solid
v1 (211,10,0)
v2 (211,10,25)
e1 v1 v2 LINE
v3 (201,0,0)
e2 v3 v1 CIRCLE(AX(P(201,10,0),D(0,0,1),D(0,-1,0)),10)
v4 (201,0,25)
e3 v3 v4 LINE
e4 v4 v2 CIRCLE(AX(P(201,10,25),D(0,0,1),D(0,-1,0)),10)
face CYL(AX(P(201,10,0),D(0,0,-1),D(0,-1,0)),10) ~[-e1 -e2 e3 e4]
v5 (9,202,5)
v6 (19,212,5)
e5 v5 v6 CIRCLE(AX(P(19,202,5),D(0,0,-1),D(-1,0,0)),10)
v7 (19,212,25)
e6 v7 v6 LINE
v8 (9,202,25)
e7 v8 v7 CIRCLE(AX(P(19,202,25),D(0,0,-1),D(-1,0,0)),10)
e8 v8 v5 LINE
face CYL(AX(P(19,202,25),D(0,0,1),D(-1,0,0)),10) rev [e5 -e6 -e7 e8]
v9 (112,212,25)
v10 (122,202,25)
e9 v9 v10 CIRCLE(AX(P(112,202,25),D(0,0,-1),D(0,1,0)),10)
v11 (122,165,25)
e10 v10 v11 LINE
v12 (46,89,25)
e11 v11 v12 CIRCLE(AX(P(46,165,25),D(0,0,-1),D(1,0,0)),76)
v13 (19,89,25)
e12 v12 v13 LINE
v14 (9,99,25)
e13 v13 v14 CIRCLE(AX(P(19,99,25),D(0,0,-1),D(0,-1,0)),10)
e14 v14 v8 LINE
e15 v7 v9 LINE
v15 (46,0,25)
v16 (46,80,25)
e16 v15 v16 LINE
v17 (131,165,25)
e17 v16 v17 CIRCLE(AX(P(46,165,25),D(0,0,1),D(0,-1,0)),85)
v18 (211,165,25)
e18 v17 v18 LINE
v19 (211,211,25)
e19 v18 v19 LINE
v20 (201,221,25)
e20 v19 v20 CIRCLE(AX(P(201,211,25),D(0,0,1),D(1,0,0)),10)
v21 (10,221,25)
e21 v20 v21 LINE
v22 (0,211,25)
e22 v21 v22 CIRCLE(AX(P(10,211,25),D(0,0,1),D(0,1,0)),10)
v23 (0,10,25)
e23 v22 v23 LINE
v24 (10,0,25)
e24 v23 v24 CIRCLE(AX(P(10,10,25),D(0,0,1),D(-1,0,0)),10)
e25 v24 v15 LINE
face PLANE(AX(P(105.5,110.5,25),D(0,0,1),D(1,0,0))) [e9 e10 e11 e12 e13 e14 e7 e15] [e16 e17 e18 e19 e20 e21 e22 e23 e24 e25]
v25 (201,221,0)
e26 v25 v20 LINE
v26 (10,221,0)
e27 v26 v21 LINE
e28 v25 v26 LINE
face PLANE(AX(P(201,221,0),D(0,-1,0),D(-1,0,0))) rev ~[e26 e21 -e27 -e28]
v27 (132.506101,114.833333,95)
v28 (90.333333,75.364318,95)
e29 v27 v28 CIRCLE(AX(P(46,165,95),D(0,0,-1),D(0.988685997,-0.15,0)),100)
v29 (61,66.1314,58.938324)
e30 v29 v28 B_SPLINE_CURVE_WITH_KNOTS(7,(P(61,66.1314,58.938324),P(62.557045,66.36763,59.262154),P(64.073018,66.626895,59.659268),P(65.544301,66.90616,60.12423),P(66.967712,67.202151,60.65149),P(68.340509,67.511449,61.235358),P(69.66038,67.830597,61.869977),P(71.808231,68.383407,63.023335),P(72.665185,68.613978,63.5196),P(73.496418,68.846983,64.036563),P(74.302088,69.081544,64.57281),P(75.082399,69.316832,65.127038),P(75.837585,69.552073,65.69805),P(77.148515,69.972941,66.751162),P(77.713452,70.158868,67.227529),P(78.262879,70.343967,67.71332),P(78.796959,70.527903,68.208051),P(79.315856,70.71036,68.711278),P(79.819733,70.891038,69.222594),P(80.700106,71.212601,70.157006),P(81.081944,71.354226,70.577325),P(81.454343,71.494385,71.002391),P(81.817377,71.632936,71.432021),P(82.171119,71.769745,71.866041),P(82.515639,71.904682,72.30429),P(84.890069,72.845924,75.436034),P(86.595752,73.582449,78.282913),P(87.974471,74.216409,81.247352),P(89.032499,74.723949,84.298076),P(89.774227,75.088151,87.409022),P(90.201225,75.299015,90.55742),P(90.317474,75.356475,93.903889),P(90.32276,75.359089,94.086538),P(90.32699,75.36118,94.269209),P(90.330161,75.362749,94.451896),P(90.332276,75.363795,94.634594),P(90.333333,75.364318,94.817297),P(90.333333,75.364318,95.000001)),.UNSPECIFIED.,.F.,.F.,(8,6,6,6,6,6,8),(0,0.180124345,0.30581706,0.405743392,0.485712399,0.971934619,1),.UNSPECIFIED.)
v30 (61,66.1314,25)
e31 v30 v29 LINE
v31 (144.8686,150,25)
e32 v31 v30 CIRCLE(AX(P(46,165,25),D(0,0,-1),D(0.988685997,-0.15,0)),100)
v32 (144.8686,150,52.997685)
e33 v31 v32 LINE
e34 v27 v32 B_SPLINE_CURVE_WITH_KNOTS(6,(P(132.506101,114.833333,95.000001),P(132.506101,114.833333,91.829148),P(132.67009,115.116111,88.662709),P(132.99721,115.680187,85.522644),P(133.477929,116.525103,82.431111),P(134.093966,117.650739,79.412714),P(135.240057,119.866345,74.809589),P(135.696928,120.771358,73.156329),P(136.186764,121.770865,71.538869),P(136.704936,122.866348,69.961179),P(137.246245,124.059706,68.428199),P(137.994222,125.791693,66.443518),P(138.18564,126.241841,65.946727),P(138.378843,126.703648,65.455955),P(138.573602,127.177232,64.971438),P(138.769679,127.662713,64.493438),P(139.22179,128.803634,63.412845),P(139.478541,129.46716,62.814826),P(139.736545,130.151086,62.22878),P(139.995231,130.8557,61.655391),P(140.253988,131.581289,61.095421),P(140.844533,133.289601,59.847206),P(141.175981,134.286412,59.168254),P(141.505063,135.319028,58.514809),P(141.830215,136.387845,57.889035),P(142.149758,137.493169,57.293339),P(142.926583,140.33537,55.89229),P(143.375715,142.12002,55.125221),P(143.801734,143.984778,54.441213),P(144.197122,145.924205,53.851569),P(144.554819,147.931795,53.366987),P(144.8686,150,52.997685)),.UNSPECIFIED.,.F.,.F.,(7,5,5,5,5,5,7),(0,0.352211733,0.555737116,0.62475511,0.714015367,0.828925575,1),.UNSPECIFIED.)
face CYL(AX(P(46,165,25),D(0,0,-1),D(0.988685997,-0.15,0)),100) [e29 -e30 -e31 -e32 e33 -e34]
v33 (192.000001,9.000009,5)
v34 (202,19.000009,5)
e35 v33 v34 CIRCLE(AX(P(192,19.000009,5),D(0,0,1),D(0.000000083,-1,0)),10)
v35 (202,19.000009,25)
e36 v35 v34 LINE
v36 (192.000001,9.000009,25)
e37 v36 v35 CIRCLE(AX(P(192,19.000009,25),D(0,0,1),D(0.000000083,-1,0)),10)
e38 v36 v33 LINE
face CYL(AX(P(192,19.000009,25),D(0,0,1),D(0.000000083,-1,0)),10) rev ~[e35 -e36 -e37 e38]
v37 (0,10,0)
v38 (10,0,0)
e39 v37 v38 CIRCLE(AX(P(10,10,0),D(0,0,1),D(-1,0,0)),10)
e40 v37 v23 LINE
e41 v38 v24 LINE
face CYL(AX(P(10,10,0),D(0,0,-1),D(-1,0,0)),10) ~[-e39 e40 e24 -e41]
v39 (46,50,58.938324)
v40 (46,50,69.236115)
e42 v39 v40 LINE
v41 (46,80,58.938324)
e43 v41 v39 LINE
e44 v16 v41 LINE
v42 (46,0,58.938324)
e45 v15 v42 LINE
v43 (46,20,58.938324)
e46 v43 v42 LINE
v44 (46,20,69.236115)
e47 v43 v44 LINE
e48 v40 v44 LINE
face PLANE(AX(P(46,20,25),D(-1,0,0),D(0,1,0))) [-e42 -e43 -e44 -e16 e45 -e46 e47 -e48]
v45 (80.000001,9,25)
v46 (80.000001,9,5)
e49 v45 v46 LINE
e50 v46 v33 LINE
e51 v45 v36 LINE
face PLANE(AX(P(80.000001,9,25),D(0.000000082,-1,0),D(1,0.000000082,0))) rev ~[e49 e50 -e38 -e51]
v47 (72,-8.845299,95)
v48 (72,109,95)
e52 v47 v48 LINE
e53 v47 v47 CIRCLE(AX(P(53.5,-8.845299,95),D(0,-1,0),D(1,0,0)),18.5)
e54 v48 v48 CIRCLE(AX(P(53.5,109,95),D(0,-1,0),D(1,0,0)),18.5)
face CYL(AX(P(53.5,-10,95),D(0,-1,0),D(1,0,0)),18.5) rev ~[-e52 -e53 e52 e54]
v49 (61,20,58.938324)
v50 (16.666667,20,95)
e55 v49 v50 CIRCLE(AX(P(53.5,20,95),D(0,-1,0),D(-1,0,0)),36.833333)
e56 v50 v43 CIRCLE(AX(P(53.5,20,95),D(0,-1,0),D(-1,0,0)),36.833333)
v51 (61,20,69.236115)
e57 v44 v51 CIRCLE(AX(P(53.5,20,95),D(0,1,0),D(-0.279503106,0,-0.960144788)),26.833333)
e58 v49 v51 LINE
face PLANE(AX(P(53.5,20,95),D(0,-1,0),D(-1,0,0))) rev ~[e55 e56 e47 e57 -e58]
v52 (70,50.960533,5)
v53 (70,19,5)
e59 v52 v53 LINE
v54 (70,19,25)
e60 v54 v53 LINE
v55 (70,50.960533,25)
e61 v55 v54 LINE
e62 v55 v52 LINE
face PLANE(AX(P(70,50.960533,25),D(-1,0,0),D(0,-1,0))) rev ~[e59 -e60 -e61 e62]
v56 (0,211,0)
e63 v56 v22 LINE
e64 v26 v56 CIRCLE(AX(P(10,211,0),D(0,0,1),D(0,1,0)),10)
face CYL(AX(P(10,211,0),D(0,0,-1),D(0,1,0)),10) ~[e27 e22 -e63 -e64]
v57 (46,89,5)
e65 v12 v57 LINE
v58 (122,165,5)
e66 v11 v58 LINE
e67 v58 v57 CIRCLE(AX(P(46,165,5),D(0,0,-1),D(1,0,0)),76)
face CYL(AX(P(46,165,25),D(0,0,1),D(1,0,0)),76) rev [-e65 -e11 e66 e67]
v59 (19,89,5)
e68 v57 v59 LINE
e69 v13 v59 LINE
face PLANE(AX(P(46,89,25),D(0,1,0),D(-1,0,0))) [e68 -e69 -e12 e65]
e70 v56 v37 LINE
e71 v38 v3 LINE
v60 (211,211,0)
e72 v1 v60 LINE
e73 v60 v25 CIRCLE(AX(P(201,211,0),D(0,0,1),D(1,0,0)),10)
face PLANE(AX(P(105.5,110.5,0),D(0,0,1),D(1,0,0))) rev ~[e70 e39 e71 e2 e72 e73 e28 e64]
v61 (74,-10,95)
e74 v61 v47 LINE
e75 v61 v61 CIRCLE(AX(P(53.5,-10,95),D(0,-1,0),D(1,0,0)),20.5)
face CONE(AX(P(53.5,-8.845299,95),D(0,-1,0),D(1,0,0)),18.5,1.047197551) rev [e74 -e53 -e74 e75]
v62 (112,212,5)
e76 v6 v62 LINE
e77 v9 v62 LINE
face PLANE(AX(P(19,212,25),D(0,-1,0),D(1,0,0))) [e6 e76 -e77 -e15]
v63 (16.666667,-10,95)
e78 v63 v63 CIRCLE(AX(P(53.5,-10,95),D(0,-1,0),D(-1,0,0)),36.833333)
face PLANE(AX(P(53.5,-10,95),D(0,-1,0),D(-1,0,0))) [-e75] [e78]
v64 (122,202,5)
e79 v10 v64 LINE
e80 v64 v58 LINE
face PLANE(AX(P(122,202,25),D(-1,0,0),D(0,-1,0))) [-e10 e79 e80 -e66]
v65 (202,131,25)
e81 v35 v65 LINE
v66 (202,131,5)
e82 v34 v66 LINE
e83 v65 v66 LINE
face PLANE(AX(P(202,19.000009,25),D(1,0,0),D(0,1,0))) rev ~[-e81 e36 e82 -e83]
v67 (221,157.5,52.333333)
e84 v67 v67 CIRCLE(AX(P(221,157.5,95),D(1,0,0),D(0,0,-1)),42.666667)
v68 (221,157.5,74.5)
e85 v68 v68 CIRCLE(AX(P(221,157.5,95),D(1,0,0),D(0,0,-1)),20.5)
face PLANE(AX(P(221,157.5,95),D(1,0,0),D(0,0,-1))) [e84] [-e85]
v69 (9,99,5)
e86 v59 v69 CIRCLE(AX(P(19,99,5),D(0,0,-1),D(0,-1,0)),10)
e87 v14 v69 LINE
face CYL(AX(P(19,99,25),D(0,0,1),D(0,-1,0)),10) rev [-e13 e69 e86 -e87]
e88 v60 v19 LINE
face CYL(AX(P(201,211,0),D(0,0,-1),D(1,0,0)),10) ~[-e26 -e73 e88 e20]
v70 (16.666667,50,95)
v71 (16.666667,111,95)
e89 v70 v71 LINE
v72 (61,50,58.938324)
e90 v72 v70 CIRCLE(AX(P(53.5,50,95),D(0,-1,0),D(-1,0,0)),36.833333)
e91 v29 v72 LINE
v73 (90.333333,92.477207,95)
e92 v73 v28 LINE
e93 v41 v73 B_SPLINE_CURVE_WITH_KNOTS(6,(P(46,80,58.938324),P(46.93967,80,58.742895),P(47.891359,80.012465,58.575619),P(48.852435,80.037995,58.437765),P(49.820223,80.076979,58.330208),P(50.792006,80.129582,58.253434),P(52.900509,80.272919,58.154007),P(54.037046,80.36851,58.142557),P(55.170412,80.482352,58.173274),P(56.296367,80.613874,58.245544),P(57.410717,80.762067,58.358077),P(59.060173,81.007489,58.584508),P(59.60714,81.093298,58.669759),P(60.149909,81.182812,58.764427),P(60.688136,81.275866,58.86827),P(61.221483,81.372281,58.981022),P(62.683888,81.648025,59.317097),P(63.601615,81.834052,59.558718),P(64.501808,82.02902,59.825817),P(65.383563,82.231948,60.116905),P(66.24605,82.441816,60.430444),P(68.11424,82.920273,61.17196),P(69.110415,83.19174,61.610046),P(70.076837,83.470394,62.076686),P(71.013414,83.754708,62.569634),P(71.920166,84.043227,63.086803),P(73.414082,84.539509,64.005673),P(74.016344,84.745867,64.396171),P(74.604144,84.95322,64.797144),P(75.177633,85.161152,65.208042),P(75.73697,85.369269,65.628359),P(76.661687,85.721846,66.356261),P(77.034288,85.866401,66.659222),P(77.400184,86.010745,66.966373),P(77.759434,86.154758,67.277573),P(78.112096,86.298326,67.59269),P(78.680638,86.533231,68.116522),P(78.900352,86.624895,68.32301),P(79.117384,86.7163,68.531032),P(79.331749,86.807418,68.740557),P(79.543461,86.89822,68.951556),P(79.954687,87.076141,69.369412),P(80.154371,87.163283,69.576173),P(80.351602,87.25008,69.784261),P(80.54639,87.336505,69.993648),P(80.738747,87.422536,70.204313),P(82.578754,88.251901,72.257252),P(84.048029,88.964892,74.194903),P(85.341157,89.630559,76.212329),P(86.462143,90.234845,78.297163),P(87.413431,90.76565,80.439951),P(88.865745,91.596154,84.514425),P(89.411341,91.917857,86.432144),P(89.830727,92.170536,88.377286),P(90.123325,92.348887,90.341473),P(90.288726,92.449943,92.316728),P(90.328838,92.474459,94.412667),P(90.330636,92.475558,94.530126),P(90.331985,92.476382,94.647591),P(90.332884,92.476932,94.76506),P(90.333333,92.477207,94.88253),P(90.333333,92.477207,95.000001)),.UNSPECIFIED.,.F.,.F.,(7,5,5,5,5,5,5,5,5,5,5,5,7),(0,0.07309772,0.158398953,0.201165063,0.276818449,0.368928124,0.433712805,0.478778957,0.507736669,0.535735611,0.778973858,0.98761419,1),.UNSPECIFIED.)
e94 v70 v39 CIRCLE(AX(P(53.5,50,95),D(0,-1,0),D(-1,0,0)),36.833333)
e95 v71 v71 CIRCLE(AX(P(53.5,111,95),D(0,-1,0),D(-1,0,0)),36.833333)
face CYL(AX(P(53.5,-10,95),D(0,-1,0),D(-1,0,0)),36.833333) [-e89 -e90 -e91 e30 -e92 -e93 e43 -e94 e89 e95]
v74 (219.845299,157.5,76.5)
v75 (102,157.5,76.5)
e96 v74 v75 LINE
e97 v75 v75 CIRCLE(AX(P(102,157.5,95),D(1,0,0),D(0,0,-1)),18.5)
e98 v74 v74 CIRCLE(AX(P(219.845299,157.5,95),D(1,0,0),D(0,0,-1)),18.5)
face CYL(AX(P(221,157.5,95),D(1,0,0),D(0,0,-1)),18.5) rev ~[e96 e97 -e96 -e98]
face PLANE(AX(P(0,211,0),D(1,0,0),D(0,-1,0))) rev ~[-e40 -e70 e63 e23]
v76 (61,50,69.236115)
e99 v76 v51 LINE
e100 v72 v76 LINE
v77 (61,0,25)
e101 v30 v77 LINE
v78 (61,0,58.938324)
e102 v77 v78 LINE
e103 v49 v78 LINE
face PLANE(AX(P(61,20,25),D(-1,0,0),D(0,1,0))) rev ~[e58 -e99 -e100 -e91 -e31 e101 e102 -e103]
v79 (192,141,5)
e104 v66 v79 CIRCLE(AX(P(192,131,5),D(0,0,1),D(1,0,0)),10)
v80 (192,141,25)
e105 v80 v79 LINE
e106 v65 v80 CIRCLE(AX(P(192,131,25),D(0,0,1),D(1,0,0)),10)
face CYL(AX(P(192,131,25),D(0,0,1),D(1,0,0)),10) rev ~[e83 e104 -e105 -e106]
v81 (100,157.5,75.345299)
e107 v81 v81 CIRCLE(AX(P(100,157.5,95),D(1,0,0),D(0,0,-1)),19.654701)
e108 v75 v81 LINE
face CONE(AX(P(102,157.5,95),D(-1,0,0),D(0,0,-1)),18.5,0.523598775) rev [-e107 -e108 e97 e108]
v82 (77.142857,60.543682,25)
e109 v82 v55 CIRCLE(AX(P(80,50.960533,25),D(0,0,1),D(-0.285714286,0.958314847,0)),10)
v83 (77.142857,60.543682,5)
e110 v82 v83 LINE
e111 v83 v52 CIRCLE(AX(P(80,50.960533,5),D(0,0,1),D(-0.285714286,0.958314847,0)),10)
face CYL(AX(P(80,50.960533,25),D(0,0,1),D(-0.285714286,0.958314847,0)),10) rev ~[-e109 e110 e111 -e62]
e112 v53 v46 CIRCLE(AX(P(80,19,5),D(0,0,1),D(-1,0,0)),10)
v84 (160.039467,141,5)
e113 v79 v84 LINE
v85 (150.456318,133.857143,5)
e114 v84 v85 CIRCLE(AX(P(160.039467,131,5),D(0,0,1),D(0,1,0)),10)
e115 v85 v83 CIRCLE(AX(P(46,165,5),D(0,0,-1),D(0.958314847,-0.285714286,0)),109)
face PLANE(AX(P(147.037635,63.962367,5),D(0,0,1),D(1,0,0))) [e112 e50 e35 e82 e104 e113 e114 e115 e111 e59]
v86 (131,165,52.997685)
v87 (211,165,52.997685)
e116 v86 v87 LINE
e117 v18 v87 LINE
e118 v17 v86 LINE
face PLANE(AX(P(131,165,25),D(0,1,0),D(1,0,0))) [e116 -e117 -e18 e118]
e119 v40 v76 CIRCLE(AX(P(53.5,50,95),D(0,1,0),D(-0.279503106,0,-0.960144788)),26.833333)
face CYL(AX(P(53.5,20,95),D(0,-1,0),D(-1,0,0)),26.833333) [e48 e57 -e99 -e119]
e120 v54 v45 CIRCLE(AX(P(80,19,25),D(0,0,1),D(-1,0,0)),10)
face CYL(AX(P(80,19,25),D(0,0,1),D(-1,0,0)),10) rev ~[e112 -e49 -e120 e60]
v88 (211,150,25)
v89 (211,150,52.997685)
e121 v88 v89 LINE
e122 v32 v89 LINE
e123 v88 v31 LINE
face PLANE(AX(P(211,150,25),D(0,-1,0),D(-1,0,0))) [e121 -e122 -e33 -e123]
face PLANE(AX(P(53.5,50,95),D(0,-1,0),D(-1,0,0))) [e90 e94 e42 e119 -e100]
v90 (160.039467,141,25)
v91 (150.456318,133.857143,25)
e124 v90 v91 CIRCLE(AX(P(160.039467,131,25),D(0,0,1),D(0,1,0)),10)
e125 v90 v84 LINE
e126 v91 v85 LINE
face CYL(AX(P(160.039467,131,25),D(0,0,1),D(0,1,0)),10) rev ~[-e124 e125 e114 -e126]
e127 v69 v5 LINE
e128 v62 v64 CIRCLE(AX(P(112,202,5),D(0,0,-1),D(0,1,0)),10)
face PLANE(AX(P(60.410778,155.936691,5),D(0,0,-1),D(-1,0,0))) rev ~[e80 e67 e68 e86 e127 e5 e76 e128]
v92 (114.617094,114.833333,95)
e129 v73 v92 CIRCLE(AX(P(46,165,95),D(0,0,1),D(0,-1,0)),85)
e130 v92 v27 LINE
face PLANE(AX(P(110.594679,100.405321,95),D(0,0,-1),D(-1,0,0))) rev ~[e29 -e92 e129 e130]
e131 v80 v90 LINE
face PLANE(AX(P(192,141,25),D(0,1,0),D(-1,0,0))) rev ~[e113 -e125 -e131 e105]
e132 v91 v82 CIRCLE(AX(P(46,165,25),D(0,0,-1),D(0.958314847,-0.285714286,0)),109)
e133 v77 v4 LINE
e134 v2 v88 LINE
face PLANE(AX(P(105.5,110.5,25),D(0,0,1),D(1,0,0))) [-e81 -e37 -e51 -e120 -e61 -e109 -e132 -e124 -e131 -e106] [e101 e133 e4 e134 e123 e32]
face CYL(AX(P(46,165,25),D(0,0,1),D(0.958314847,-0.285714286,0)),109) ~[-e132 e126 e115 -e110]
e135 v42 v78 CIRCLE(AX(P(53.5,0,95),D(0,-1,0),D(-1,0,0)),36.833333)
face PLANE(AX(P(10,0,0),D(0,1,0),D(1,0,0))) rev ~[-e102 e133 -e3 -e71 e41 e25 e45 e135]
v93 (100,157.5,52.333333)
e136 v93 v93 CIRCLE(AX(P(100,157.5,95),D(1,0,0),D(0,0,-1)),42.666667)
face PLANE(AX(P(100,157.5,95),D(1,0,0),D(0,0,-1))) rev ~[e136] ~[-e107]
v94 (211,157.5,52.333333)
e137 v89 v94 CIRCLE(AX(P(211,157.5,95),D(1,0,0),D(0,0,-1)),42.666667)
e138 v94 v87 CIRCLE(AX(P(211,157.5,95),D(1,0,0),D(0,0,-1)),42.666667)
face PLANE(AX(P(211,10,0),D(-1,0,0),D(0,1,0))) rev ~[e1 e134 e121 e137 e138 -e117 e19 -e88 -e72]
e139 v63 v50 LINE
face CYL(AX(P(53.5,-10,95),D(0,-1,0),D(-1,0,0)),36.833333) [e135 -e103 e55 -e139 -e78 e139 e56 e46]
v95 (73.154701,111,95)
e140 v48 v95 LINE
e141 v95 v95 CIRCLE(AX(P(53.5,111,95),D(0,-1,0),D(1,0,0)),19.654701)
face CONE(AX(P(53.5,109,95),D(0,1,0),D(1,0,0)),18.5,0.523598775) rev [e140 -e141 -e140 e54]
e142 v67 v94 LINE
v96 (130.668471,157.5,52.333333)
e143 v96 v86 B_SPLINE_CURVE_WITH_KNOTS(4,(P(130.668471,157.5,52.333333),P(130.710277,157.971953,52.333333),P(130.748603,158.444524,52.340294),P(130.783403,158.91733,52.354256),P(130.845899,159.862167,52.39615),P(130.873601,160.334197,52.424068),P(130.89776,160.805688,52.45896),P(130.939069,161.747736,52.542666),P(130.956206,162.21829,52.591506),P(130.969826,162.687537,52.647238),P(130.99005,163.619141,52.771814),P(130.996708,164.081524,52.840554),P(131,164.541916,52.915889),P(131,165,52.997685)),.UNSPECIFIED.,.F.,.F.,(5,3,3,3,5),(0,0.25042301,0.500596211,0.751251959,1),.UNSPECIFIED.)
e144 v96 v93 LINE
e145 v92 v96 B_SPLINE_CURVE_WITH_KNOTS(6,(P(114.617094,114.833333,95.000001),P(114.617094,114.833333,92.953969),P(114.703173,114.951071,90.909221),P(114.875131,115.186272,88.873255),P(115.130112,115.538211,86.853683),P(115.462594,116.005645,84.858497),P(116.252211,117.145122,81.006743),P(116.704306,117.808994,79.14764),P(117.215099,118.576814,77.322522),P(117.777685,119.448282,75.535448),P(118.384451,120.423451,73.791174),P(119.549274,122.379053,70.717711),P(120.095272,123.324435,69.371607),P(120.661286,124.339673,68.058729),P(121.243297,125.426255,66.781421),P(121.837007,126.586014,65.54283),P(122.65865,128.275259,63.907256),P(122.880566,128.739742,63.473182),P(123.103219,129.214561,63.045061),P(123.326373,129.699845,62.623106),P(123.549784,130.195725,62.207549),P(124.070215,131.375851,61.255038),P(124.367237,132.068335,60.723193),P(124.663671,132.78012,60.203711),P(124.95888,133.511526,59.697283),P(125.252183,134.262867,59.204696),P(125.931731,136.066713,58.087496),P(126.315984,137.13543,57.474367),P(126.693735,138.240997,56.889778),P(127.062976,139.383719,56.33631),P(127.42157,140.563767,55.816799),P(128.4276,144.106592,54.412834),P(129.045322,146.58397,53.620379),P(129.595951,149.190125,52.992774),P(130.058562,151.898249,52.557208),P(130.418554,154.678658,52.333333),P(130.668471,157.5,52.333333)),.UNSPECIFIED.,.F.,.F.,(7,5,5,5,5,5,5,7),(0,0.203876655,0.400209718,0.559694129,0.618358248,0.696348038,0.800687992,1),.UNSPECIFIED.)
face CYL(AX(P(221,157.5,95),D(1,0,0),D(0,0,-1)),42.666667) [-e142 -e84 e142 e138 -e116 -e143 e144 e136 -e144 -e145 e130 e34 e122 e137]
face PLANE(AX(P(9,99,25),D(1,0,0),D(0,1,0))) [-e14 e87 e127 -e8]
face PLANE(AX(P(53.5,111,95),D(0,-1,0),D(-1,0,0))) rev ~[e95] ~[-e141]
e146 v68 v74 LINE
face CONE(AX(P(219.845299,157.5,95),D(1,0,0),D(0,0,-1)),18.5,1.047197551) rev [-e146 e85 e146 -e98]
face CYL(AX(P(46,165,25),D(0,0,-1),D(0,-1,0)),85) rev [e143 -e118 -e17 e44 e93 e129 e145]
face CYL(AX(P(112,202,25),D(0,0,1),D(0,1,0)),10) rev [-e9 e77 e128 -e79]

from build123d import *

# Parameters (mm, degrees)
BOSS_EXTRUDE1_DEPTH   = 25
BOSS_EXTRUDE3_DEPTH   = 70
SKETCH7_R             = 36.833333333
BOSS_EXTRUDE4_DEPTH   = 121
SKETCH8_R             = 18.5
CUT_EXTRUDE2_DEPTH    = 232
SKETCH9_R             = 42.666666667
BOSS_EXTRUDE5_DEPTH   = 121
SKETCH10_R            = 18.5
CUT_EXTRUDE3_DEPTH    = 222
CHAMFER1_SIZE         = 2
CHAMFER1_SIZE2        = 1.154700538
CHAMFER1_PART_2_SIZE  = 2
CHAMFER1_PART_2_SIZE2 = 1.154700538
CHAMFER1_PART_3_SIZE  = 2
CHAMFER1_PART_3_SIZE2 = 1.154700538
CHAMFER1_PART_4_SIZE  = 2
CHAMFER1_PART_4_SIZE2 = 1.154700538
CUT_EXTRUDE4_DEPTH    = 20
CUT_EXTRUDE5_DEPTH    = 20
SKETCH16_R            = 36.833333333
SKETCH16_R_2          = 26.833333333
CUT_EXTRUDE7_DEPTH    = 30
BOSS_EXTRUDE7_REACH   = 114.667
SKETCH18_W            = 15
SKETCH18_H            = 30


with BuildPart() as part:
    # Sketch1 → Boss-Extrude1 (new body)
    with BuildSketch(Plane.XY):
        with BuildLine():
            Line((10, 0), (201, 0))
            ThreePointArc((201, 0), (208.071067812, 2.928932188), (211, 10))
            Line((211, 10), (211, 211))
            ThreePointArc((211, 211), (208.071067812, 218.071067812), (201, 221))
            Line((201, 221), (10, 221))
            ThreePointArc((10, 221), (2.928932188, 218.071067812), (0, 211))
            Line((0, 211), (0, 10))
            ThreePointArc((0, 10), (2.928932188, 2.928932188), (10, 0))
        make_face()
    extrude(amount=BOSS_EXTRUDE1_DEPTH)

    # Sketch5 → Boss-Extrude3 (add)
    with BuildSketch(Plane.XY.offset(25)):
        with BuildLine():
            Line((46, 0), (46, 80))
            ThreePointArc((46, 80), (106.104076401, 104.895923599), (131, 165))
            Line((131, 165), (211, 165))
            Line((211, 165), (211, 150))
            Line((211, 150), (144.868599666, 150))
            ThreePointArc((144.868599666, 150), (116.710678119, 94.289321881), (61, 66.131400334))
            Line((61, 66.131400334), (61, 0))
            Line((61, 0), (46, 0))
        make_face()
    extrude(amount=BOSS_EXTRUDE3_DEPTH)

    # Sketch7 → Boss-Extrude4 (add)
    with BuildSketch(Plane(origin=(0, -10, 0), x_dir=(-1, 0, 0), z_dir=(0, -1, 0))):
        with Locations((-53.5, -95)):
            Circle(SKETCH7_R)
    extrude(amount=-BOSS_EXTRUDE4_DEPTH)

    # Sketch8 → Cut-Extrude2 (cut, through all)
    with BuildSketch(Plane.XZ.offset(10)):
        with Locations((53.5, 95)):
            Circle(SKETCH8_R)
    extrude(amount=-CUT_EXTRUDE2_DEPTH, mode=Mode.SUBTRACT)

    # Sketch9 → Boss-Extrude5 (add)
    with BuildSketch(Plane(origin=(221, 0, 0), x_dir=(0, 0, -1), z_dir=(1, 0, 0))):
        with Locations((-95, 157.5)):
            Circle(SKETCH9_R)
    extrude(amount=-BOSS_EXTRUDE5_DEPTH)

    # Sketch10 → Cut-Extrude3 (cut, through all)
    with BuildSketch(Plane(origin=(221, 0, 0), x_dir=(0, 0, -1), z_dir=(1, 0, 0))):
        with Locations((-95, 157.5)):
            Circle(SKETCH10_R)
    extrude(amount=-CUT_EXTRUDE3_DEPTH, mode=Mode.SUBTRACT)

    # Chamfer1
    chamfer1_edges = [part.edges().sort_by_distance(p)[0] for p in [
        (35, 111, 95),
    ]]
    chamfer1_side = [part.faces().sort_by_distance(p)[0] for p in [
        (35, 50.5, 95),
    ]]
    chamfer(chamfer1_edges, length=CHAMFER1_SIZE, length2=CHAMFER1_SIZE2, reference=chamfer1_side[0])

    # Chamfer1 part 2
    chamfer1_part_2_edges = [part.edges().sort_by_distance(p)[0] for p in [
        (35, -10, 95),
    ]]
    chamfer1_part_2_side = [part.faces().sort_by_distance(p)[0] for p in [
        (89.291529342, -10, 95),
    ]]
    chamfer(chamfer1_part_2_edges, length=CHAMFER1_PART_2_SIZE, length2=CHAMFER1_PART_2_SIZE2, reference=chamfer1_part_2_side[0])

    # Chamfer1 part 3
    chamfer1_part_3_edges = [part.edges().sort_by_distance(p)[0] for p in [
        (100, 157.5, 113.5),
    ]]
    chamfer1_part_3_side = [part.faces().sort_by_distance(p)[0] for p in [
        (160.5, 157.5, 113.5),
    ]]
    chamfer(chamfer1_part_3_edges, length=CHAMFER1_PART_3_SIZE, length2=CHAMFER1_PART_3_SIZE2, reference=chamfer1_part_3_side[0])

    # Chamfer1 part 4
    chamfer1_part_4_edges = [part.edges().sort_by_distance(p)[0] for p in [
        (221, 157.5, 113.5),
    ]]
    chamfer1_part_4_side = [part.faces().sort_by_distance(p)[0] for p in [
        (221, 157.5, 136.459871093),
    ]]
    chamfer(chamfer1_part_4_edges, length=CHAMFER1_PART_4_SIZE, length2=CHAMFER1_PART_4_SIZE2, reference=chamfer1_part_4_side[0])

    # Sketch11 → Cut-Extrude4 (cut)
    with BuildSketch(Plane.XY.offset(25)):
        with BuildLine():
            Line((192, 141), (160.039466852, 141))
            ThreePointArc((160.039466852, 141), (154.063323806, 139.017837257), (150.456318377, 133.857142857))
            ThreePointArc((150.456318377, 133.857142857), (123.074639149, 87.925360851), (77.142857143, 60.543681623))
            ThreePointArc((77.142857143, 60.543681623), (71.982162743, 56.936676194), (70, 50.960533148))
            Line((70, 50.960533148), (70, 19))
            ThreePointArc((70, 19), (72.92893248, 11.928931897), (80.000000825, 9))
            Line((80.000000825, 9), (192.000000825, 9.000009238))
            ThreePointArc((192.000000825, 9.000009238), (199.071068103, 11.928941718), (202, 19.000009238))
            Line((202, 19.000009238), (202, 131))
            ThreePointArc((202, 131), (199.071067812, 138.071067812), (192, 141))
        make_face()
    extrude(amount=-CUT_EXTRUDE4_DEPTH, mode=Mode.SUBTRACT)

    # Sketch12 → Cut-Extrude5 (cut)
    with BuildSketch(Plane.XY.offset(25)):
        with BuildLine():
            Line((19, 212), (112, 212))
            ThreePointArc((112, 212), (119.071067812, 209.071067812), (122, 202))
            Line((122, 202), (122, 165))
            ThreePointArc((122, 165), (99.74011537, 111.25988463), (46, 89))
            Line((46, 89), (19, 89))
            ThreePointArc((19, 89), (11.928932188, 91.928932188), (9, 99))
            Line((9, 99), (9, 202))
            ThreePointArc((9, 202), (11.928932188, 209.071067812), (19, 212))
        make_face()
    extrude(amount=-CUT_EXTRUDE5_DEPTH, mode=Mode.SUBTRACT)

    # Sketch16 → Cut-Extrude7 (cut)
    with BuildSketch(Plane(origin=(0, 20, 0), x_dir=(-1, 0, 0), z_dir=(0, -1, 0))):
        with Locations((-53.5, -95)):
            Circle(SKETCH16_R)
        with Locations((-53.5, -95)):
            Circle(SKETCH16_R_2, mode=Mode.SUBTRACT)
    extrude(amount=-CUT_EXTRUDE7_DEPTH, mode=Mode.SUBTRACT)

    # Sketch18 → Boss-Extrude7 (add, up to next)
    with BuildSketch(Plane.XY.offset(25), mode=Mode.PRIVATE) as boss_extrude7_sk1:
        with Locations((53.5, 35)):
            Rectangle(SKETCH18_W, SKETCH18_H)
    boss_extrude7_tool1 = extrude(boss_extrude7_sk1.sketch, amount=BOSS_EXTRUDE7_REACH, mode=Mode.PRIVATE) - part.part
    add(boss_extrude7_tool1.solids().sort_by_distance((53.5, 35, 25))[0])


solid = part.part
